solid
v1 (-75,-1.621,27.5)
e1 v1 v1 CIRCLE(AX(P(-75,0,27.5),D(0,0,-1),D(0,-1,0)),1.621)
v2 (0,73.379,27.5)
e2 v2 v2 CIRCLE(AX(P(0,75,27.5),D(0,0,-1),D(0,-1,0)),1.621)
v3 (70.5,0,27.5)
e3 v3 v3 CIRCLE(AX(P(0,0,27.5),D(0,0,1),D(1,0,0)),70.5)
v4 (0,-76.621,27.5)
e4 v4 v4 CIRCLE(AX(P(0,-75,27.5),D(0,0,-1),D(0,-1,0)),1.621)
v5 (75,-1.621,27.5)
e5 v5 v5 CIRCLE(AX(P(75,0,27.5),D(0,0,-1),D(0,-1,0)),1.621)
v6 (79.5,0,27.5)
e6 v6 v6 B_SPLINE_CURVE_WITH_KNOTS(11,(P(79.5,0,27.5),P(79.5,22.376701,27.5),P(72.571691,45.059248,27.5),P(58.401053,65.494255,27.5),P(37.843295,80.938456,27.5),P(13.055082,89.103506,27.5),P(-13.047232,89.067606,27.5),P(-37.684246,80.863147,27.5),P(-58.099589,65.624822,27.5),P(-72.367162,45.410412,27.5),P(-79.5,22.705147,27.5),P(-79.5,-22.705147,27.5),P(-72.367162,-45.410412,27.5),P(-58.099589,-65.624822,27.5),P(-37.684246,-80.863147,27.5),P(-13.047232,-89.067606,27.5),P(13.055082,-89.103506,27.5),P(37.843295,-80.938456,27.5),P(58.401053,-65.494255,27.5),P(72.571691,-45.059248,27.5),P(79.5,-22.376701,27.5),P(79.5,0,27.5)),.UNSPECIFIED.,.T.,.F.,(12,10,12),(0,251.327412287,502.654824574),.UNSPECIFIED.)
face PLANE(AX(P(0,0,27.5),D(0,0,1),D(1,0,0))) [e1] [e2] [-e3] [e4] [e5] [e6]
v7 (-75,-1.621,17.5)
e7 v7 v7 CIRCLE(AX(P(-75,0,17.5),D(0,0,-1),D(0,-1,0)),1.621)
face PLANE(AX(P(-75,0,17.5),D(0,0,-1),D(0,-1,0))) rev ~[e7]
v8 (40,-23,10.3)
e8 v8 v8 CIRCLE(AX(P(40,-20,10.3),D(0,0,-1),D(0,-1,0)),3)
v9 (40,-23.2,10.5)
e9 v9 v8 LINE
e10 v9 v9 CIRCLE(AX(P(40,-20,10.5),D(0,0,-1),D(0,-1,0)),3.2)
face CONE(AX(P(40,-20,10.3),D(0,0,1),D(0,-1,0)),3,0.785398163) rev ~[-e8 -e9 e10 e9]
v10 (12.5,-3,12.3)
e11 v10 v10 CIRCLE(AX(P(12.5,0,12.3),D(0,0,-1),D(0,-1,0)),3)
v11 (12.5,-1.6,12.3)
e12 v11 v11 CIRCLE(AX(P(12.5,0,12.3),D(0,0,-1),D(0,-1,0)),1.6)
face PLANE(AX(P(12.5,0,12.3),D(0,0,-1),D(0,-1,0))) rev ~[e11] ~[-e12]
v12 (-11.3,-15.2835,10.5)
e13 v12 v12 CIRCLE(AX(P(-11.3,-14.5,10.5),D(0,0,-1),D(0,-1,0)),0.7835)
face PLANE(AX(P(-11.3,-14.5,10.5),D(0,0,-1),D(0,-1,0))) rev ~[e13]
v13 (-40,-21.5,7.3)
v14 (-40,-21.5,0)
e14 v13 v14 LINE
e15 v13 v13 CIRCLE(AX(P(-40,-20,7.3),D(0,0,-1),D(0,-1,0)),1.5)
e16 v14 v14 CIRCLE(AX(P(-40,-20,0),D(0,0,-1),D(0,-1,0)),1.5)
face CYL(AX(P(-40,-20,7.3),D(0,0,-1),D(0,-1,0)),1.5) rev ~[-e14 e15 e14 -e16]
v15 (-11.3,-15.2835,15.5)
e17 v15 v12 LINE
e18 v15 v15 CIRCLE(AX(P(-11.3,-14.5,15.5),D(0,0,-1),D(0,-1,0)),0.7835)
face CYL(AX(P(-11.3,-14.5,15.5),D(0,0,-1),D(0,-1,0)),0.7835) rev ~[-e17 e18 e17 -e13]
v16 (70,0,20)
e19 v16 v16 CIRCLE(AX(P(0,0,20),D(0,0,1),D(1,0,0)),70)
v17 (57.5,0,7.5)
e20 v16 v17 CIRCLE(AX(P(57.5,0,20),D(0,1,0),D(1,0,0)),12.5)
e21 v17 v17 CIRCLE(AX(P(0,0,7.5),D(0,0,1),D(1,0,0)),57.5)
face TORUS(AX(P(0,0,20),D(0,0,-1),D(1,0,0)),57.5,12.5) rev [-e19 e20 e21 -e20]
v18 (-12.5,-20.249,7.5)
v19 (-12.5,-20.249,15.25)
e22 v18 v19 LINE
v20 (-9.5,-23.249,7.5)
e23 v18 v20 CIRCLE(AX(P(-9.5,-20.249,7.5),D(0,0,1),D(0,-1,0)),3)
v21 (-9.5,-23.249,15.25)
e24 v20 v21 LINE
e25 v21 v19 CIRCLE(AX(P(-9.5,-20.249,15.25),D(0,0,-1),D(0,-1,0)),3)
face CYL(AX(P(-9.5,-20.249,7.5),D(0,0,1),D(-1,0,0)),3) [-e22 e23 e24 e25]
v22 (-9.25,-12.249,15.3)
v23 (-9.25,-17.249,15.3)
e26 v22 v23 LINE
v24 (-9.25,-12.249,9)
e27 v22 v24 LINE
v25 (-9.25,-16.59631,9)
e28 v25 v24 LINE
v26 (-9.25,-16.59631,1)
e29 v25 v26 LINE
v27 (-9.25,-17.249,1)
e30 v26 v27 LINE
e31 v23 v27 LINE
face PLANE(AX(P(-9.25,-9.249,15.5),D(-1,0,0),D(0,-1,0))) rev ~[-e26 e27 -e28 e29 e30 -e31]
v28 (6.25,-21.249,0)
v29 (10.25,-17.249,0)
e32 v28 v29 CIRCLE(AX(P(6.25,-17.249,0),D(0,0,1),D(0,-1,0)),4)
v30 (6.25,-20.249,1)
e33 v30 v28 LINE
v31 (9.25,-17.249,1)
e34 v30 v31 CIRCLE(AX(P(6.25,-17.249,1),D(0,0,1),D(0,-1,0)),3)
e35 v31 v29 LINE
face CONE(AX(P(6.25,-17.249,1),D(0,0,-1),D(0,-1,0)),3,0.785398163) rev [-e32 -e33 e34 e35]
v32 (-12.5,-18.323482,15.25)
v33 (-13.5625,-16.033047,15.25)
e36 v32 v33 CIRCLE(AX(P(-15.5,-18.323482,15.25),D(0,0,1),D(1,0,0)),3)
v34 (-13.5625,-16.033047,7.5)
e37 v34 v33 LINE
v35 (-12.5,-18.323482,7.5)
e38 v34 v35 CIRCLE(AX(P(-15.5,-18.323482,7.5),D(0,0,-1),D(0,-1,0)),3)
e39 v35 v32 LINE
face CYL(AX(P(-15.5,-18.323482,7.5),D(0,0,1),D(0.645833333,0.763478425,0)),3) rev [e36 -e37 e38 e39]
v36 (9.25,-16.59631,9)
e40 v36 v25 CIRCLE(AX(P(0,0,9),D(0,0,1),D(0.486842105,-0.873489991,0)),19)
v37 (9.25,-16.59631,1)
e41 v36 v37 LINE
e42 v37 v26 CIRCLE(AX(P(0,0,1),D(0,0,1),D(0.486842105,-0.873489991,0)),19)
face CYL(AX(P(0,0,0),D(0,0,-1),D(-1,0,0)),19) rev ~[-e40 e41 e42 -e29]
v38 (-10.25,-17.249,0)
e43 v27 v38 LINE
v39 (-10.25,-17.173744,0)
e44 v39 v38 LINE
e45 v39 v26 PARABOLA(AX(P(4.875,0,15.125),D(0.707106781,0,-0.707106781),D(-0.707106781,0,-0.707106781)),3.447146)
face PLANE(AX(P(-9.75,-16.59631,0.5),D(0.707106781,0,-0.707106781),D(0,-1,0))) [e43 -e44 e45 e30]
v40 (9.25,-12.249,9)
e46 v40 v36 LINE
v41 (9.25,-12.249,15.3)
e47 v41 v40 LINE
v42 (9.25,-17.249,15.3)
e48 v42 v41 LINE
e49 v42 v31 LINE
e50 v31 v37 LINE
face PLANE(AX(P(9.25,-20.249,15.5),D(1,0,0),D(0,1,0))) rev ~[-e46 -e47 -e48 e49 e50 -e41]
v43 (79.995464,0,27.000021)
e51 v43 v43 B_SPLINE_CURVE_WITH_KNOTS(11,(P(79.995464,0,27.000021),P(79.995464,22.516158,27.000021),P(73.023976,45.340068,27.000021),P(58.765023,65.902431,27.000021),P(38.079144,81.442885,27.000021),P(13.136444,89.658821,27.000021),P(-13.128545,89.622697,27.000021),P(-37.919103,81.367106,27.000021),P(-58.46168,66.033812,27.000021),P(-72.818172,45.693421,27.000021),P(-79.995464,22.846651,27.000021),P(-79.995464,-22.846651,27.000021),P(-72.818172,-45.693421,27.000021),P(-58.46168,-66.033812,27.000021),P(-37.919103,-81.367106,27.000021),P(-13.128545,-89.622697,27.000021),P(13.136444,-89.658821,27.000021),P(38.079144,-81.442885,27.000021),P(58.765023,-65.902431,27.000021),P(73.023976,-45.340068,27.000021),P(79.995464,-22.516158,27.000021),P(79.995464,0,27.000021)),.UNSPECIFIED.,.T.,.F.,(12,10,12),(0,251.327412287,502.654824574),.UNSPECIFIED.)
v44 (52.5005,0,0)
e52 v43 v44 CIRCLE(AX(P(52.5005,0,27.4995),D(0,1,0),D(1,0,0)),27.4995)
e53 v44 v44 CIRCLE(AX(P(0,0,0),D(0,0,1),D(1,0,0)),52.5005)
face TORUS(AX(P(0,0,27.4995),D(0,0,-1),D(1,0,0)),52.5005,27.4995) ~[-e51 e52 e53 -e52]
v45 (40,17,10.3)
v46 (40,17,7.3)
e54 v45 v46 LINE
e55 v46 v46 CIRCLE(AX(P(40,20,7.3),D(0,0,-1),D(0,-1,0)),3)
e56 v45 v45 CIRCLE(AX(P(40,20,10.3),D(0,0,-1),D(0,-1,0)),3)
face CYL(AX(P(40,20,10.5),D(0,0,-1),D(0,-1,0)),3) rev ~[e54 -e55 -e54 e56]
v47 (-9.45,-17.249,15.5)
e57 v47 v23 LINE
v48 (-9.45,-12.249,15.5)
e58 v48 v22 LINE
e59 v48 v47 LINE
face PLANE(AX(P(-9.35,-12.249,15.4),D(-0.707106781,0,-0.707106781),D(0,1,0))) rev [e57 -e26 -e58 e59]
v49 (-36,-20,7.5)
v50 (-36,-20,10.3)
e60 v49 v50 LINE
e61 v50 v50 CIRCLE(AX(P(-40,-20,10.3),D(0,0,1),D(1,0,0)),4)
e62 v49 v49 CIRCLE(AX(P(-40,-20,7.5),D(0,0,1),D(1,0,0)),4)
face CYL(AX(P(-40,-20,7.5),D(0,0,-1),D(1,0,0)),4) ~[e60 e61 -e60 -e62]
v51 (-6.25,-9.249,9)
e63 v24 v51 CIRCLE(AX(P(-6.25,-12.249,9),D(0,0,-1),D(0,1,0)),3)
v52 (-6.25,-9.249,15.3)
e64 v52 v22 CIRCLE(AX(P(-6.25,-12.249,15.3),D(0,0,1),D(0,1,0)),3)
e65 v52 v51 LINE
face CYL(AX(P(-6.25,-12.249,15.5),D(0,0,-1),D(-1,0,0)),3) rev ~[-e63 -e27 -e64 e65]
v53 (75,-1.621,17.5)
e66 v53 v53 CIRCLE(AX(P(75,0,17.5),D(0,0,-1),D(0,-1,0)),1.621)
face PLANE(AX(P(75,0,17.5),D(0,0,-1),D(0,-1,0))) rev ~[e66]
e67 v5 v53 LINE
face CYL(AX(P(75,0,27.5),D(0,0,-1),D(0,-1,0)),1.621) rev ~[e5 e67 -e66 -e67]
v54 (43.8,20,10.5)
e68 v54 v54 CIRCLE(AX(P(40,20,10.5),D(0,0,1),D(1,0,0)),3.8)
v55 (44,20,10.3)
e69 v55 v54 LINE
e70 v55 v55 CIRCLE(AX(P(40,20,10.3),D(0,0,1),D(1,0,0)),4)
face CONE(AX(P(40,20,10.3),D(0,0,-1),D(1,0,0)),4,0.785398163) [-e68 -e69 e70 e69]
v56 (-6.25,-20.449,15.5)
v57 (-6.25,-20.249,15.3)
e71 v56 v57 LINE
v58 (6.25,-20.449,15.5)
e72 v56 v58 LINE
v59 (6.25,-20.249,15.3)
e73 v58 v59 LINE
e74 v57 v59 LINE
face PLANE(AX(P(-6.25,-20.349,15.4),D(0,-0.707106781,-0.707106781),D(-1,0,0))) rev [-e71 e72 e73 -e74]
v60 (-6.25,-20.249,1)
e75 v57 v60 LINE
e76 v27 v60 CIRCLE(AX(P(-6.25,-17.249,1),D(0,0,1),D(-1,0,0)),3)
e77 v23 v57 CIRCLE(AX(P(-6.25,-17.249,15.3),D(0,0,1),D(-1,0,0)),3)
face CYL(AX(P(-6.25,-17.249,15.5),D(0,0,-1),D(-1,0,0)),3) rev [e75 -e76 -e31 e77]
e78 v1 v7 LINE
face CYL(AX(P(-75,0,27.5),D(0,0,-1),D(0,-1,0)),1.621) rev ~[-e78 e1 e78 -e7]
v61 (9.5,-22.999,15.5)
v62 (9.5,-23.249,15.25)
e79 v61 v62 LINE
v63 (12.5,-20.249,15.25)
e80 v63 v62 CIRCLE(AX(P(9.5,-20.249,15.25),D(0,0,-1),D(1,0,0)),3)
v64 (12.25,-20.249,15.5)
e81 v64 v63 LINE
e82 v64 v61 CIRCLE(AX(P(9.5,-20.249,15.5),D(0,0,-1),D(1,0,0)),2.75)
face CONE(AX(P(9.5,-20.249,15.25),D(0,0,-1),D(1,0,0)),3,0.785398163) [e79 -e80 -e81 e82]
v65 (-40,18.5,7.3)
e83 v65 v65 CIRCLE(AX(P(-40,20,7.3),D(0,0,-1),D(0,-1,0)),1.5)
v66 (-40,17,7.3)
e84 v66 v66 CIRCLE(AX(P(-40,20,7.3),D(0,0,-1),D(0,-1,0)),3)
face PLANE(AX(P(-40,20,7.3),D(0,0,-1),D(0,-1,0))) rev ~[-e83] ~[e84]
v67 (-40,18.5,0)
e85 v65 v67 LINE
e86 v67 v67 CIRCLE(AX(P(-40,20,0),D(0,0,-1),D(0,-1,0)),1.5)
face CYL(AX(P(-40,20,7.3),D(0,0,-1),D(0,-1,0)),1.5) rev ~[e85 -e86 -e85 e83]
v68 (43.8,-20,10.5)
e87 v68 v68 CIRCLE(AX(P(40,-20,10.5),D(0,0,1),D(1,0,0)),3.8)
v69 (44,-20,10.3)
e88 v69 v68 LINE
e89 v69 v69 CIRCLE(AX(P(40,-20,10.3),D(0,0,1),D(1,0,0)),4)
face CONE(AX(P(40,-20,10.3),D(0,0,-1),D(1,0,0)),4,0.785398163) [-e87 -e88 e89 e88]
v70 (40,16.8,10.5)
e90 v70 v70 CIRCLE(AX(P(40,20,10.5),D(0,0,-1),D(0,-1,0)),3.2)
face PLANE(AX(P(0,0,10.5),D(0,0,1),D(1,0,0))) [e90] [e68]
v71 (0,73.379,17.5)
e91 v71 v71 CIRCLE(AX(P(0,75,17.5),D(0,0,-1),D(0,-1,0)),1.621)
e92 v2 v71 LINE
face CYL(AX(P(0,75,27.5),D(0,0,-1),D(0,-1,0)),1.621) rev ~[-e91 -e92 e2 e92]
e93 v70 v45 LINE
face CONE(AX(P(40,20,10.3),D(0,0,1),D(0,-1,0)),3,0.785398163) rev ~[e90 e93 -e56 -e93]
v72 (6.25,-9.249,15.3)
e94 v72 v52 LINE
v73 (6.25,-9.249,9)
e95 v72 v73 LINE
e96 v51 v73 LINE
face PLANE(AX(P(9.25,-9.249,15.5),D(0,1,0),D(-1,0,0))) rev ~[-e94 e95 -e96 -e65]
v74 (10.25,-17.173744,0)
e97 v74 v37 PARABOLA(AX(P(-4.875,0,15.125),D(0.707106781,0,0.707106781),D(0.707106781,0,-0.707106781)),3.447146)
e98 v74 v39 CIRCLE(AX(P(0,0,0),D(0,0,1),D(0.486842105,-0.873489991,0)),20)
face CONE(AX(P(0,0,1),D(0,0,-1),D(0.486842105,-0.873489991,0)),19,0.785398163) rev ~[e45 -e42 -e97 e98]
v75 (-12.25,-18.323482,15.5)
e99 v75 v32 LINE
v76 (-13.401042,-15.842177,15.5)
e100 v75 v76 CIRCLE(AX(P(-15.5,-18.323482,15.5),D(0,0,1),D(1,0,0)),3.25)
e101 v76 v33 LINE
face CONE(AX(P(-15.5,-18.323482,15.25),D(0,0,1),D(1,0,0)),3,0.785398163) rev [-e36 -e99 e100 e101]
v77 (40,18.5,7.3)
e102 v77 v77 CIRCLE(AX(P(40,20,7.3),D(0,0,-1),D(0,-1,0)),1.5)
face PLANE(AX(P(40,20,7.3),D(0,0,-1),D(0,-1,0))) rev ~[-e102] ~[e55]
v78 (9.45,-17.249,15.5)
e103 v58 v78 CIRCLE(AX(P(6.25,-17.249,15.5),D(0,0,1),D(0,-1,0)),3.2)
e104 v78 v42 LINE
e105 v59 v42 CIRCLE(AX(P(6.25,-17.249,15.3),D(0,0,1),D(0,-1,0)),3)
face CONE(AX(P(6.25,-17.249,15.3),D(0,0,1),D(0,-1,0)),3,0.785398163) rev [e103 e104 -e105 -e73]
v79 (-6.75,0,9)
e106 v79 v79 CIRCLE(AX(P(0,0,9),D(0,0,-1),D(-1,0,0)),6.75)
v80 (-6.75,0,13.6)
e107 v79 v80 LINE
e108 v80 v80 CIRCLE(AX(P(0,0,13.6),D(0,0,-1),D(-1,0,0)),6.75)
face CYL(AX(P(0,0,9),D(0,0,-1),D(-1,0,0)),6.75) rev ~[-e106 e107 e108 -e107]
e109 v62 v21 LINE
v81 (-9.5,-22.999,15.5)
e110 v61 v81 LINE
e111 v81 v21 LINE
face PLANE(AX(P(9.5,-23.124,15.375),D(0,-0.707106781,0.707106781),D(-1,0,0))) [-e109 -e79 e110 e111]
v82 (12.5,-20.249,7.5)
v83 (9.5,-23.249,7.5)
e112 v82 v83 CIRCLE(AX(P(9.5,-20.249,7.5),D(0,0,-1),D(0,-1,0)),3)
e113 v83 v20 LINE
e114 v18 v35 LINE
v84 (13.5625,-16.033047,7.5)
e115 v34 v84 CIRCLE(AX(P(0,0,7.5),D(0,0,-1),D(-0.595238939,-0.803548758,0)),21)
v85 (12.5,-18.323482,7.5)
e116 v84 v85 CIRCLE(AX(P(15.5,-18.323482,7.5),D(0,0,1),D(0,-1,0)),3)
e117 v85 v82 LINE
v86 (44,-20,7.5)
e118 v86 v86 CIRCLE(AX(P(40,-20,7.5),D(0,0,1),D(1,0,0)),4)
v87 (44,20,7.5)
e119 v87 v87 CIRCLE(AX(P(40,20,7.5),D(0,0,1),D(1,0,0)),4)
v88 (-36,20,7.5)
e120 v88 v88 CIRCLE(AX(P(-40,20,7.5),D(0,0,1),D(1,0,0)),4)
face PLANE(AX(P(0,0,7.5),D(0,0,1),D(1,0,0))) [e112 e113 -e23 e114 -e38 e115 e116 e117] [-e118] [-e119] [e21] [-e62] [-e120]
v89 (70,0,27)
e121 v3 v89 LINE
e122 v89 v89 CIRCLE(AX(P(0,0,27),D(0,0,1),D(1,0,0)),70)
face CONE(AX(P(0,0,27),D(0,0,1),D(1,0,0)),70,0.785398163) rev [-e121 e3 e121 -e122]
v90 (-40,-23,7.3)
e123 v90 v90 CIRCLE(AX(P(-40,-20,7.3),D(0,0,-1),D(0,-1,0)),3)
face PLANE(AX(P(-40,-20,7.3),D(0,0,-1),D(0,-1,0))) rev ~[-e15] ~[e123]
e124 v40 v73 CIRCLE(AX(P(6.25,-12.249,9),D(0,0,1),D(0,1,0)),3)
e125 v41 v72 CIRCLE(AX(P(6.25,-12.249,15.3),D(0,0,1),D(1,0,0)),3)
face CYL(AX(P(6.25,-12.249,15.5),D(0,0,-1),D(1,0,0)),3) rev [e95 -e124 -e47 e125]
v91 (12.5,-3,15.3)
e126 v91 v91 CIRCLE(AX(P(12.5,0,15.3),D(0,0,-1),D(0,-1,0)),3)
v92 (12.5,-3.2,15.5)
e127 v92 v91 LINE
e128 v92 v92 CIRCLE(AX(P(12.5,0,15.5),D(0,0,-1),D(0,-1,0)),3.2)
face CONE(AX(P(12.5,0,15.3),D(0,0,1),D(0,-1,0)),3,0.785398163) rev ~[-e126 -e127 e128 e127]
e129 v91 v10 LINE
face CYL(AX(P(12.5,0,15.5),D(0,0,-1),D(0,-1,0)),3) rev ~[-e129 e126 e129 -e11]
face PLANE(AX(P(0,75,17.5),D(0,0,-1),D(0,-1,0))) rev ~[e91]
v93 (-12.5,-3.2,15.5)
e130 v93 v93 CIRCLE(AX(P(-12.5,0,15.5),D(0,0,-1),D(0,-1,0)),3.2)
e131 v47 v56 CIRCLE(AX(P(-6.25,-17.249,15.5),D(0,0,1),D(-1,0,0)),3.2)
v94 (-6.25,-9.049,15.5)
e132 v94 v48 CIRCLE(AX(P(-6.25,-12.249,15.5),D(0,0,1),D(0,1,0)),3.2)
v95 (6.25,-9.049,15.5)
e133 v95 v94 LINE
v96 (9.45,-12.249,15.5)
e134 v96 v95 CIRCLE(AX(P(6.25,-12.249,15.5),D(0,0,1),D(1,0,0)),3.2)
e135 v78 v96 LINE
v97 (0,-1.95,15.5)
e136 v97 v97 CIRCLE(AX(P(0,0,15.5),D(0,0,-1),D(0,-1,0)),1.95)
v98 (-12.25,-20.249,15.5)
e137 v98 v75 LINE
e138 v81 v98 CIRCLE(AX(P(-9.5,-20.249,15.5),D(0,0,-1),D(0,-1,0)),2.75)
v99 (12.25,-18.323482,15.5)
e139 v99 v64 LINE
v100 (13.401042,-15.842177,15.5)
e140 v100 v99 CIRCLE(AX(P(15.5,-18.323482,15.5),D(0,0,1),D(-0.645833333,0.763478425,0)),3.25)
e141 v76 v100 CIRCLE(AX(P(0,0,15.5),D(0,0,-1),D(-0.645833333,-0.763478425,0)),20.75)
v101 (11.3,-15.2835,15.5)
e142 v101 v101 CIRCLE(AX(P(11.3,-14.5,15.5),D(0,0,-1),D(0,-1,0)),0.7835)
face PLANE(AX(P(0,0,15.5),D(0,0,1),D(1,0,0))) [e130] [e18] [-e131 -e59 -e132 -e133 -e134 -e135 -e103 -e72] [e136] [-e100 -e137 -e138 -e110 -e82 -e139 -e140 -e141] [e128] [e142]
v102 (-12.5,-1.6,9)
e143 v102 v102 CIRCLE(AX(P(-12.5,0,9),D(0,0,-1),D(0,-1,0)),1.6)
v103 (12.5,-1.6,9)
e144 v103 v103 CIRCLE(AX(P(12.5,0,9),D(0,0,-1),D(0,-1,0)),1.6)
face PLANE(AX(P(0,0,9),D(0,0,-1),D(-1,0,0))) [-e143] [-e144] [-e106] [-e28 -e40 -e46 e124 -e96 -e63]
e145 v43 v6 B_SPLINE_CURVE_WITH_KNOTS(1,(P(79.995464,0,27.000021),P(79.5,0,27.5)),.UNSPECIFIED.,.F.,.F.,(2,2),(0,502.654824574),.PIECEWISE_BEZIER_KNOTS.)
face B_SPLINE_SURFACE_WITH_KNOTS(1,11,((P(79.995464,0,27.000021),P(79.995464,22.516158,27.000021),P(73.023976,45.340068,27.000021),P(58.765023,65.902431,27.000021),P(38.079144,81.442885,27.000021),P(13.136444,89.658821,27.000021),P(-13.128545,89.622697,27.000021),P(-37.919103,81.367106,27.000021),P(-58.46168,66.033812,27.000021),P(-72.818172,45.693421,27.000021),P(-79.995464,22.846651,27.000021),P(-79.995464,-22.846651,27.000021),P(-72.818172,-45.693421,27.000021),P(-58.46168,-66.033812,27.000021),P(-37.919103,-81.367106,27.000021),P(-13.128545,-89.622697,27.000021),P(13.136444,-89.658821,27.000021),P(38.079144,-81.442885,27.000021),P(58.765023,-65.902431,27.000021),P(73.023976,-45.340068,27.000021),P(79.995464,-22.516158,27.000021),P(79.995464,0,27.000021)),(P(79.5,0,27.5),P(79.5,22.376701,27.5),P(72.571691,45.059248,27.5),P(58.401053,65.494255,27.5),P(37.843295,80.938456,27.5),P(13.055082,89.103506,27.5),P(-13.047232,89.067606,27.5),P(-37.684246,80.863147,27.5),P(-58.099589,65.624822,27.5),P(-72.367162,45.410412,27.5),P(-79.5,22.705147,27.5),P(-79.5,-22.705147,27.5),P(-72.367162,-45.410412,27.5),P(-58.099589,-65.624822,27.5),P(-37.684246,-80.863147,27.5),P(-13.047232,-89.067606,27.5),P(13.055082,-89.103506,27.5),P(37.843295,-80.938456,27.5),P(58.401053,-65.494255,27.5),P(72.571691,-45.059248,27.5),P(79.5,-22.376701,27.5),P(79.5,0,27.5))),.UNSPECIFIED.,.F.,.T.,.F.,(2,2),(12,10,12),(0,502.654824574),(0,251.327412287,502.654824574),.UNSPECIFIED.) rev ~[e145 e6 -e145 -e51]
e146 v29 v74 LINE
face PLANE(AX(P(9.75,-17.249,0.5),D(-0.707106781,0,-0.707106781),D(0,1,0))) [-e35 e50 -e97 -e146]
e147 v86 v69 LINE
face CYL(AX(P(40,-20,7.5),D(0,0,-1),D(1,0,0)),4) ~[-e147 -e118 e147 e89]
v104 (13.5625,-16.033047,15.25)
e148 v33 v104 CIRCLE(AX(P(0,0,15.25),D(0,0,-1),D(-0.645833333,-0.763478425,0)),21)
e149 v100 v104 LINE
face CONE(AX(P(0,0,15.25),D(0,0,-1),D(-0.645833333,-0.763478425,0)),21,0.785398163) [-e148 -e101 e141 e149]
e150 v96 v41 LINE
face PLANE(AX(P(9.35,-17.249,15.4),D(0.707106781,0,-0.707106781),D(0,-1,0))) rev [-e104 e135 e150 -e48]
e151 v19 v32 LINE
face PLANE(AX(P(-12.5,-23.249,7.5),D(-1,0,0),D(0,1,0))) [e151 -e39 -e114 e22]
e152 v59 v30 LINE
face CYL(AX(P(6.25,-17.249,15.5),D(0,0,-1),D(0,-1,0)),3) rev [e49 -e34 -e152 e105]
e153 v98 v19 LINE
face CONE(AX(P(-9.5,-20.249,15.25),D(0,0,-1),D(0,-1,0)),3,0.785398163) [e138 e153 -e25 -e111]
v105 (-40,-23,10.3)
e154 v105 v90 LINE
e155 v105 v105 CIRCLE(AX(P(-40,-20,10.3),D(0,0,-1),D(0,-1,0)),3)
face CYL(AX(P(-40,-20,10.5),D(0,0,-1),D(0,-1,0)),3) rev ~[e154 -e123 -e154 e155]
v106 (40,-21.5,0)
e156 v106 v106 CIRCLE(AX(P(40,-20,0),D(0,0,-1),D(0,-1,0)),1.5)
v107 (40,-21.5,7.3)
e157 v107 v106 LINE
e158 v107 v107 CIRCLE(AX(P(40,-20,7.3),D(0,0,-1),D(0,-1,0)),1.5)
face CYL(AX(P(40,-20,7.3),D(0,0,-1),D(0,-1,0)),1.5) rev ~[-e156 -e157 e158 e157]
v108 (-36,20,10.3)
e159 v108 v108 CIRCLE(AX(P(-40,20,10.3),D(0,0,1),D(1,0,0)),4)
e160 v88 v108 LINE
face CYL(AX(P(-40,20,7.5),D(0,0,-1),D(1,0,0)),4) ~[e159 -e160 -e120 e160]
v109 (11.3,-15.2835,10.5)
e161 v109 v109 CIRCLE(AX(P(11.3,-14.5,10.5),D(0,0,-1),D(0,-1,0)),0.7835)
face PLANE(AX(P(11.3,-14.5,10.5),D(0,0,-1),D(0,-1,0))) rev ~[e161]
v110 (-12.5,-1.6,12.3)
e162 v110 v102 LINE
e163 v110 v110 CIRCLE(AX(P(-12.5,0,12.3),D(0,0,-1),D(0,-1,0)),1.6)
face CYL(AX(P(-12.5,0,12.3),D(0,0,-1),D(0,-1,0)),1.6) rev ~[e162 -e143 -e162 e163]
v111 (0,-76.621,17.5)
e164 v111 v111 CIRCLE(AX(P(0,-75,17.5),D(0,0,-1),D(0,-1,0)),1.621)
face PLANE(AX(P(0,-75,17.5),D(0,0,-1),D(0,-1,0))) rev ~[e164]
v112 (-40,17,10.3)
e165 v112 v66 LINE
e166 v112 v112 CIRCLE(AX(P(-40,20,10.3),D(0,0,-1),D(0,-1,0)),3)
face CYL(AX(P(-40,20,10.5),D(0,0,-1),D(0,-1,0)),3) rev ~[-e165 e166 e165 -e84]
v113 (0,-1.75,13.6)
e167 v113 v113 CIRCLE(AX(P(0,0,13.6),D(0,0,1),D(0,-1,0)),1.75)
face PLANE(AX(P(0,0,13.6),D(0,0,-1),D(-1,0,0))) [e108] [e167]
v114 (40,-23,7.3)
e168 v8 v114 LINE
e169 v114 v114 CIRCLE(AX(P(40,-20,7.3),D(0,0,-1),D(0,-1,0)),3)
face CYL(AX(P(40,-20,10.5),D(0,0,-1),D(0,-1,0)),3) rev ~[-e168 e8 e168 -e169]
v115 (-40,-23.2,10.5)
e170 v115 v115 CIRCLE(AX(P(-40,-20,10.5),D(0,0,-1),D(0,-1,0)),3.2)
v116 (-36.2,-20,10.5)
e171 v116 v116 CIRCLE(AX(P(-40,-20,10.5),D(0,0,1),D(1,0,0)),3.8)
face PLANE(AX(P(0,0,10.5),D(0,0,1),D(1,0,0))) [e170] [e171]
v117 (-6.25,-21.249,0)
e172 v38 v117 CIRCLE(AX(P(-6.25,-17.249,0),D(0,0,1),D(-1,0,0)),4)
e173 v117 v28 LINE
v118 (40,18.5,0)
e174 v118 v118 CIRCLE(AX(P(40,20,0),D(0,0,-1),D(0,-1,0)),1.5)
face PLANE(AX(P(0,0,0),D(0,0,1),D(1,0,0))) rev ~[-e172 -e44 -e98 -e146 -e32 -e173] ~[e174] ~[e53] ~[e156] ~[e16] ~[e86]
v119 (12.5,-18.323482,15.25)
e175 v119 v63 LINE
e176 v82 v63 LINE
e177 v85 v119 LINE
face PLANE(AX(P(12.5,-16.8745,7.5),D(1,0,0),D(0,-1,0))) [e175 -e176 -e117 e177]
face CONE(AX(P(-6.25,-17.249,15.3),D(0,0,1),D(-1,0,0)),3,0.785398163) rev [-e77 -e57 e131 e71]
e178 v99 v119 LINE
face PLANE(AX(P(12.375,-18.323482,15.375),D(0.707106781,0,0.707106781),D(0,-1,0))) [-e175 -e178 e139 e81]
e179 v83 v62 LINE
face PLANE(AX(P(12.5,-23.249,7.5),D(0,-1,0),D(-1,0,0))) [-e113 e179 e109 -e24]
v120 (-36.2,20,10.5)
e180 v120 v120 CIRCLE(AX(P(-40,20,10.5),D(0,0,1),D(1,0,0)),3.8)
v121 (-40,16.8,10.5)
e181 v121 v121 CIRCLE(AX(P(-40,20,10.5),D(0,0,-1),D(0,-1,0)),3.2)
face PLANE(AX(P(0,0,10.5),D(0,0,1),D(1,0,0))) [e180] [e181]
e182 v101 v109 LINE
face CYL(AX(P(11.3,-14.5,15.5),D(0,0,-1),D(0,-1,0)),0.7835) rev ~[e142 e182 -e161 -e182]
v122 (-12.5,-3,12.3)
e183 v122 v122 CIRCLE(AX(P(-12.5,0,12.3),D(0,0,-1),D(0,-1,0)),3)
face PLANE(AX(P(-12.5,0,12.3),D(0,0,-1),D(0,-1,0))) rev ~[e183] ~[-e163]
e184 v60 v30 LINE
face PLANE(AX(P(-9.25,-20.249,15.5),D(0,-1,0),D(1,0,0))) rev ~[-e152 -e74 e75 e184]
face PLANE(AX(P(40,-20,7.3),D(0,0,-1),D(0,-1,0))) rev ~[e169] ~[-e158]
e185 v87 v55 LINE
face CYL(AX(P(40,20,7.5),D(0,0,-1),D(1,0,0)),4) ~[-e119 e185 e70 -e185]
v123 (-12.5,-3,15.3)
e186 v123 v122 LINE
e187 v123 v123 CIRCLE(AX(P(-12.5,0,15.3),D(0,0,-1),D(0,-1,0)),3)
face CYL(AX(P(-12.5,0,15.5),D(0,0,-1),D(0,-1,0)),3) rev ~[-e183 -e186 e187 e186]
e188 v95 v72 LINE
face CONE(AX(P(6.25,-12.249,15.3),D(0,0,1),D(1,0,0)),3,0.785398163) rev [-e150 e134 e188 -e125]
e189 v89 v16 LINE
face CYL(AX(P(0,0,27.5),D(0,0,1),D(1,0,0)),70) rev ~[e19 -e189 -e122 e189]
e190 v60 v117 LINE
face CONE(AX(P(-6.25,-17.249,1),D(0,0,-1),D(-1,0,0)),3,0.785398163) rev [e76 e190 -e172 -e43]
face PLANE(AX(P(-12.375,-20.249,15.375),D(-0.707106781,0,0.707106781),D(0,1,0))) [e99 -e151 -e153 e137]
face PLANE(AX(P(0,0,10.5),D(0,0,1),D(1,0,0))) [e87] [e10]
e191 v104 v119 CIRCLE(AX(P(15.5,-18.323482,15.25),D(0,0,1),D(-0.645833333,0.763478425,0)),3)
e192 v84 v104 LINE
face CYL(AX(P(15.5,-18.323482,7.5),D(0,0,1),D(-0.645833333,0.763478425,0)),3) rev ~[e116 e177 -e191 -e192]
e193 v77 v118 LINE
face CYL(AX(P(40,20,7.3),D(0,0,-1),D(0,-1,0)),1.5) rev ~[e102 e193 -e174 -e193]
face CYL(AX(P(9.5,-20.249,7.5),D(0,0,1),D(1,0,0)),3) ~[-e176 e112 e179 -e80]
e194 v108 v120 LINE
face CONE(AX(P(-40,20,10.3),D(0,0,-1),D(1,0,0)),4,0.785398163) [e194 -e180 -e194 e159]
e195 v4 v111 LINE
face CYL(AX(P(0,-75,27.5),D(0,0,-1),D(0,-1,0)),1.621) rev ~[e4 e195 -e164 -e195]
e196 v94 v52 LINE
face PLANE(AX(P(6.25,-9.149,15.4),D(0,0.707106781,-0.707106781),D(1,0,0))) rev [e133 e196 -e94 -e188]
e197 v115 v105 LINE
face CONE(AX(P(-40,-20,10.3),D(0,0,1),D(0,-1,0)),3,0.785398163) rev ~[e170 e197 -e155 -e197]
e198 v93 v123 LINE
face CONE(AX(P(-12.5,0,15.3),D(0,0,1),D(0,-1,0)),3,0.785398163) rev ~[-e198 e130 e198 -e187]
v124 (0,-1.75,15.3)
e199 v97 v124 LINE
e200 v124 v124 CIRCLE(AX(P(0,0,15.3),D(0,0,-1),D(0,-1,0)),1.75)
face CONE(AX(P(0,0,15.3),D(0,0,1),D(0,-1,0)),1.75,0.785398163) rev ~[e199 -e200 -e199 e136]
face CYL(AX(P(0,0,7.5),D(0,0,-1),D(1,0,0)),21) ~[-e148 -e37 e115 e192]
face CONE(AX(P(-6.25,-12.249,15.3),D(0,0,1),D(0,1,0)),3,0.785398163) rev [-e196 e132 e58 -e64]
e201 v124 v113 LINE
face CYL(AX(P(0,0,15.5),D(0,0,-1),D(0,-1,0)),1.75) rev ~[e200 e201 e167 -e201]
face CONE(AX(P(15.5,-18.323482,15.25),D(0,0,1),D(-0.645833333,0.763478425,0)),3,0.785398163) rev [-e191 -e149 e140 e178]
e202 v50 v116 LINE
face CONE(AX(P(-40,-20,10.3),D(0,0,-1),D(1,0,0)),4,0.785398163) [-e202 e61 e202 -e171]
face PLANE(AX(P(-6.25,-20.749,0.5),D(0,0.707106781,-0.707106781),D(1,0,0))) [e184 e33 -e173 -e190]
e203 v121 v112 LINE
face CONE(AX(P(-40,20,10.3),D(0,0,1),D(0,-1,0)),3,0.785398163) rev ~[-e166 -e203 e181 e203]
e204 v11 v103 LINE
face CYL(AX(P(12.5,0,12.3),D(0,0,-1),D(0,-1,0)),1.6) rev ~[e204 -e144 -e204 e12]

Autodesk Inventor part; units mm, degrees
ref_plane "YZ Plane" through (0, 0, 0) normal (1, 0, 0) x (0, 1, 0)
ref_plane "XZ Plane" through (0, 0, 0) normal (0, 1, 0) x (-1, 0, 0)
ref_plane "XY Plane" through (0, 0, 0) normal (0, 0, 1) x (1, 0, 0)
sketch "Sketch1" plane through (0, 0, 0) normal (0, 0, 1) x (1, 0, 0)
  circle A0 centre (0, 0) radius 80
  dimension "d0" = 160
extrude "Extrusion1" add sketch "Sketch1" along normal blind 27.5
sketch "Sketch2" plane through (0, 0, 27.5) normal (0, 0, 1) x (1, 0, 0)
  circle A0 centre (0, 0) radius 70
  dimension "d3" = 140
extrude "Extrusion2" cut sketch "Sketch2" against normal blind 20
fillet "Fillet3" radius 12.5 1 edges at (-70, 0, 7.5)
fillet "Fillet4" radius 27.5 1 edges at (-80, 0, 0)
sketch "Sketch4" plane through (0, 0, 7.5) normal (0, 0, 1) x (1, 0, 0)
  circle A0 centre (0, 0) radius 21
  dimension "d13" = 42
extrude "Extrusion4" add sketch "Sketch4" along normal blind 8
sketch "Sketch6" plane through (0, 0, 27.5) normal (0, 0, 1) x (1, 0, 0)
  point P0 (0, 0)
  point P1 (0, 75)
  point P2 (75, 0)
  point P3 (0, -75)
  point P4 (-75, 0)
  dimension "d24" = 75
  dimension "d25" = 75
  dimension "d26" = 75
hole "Hole2" at (0, 75, 27.5) at (75, 0, 27.5) at (0, -75, 27.5) at (-75, 0, 27.5) direction (0, 0, -1) diameter 3.242 depth 10 thread size "M4x0.7" class "6H" standard "ISO Metric profile"
sketch "Sketch8" plane through (0, 0, 15.5) normal (0, 0, 1) x (1, 0, 0)
  point P0 (0, 0)
  point P1 (0, 0)
hole "Hole4" at (0, 0, 15.5) direction (0, 0, -1) diameter 3.5 end through all
sketch "Sketch9" plane through (0, 0, 0) normal (0, 0, -1) x (-1, 0, 0)
  circle A0 centre (0, 0) radius 1.75 projected
  circle A1 centre (0, 0) radius 19
  dimension "d56" = 38
extrude "Extrusion5" cut sketch "Sketch9" against normal blind 9
sketch "Sketch10" plane through (0, 0, 9) normal (0, 0, -1) x (-1, 0, 0)
  circle A0 centre (0, 0) radius 1.75 projected
  circle A1 centre (0, 0) radius 6.75
  dimension "d59" = 13.5
extrude "Extrusion6" cut sketch "Sketch10" against normal blind 4.6
sketch "Sketch11" plane through (0, 0, 15.5) normal (0, 0, 1) x (1, 0, 0)
  point P0 (0, 0)
  point P1 (12.5, 0)
  point P2 (-12.5, 0)
  dimension "d74" = 12.5
  dimension "d75" = 12.5
hole "Hole5" at (12.5, 0, 15.5) at (-12.5, 0, 15.5) direction (0, 0, -1) diameter 3.2 end through all counterbore diameter 6 counterbore depth 3.2
sketch "Sketch13" plane through (0, 0, 7.5) normal (0, 0, 1) x (1, 0, 0)
  circle A0 centre (0, 0) radius 21 projected
  line L0 (12.5, -16.8745) -> (12.5, -23.249)
  line L1 (12.5, -23.249) -> (-12.5, -23.249)
  line L2 (-12.5, -23.249) -> (-12.5, -16.8745)
  dimension "d88" = 25
  dimension "d89" = 12.5
extrude "Extrusion7" add sketch "Sketch13" along normal blind 8 contours A0 L0 L1 L2
sketch "Sketch18" plane through (0, 0, 15.5) normal (0, 0, 1) x (1, 0, 0)
  point P0 (0, 0)
  point P1 (11.3, -14.5)
  point P2 (-11.3, -14.5)
  dimension "d119" = 14.5
  dimension "d120" = 11.3
  dimension "d121" = 11.3
  dimension "d122" = 14.5
hole "Hole8" at (11.3, -14.5, 15.5) at (-11.3, -14.5, 15.5) direction (0, 0, -1) diameter 1.567 depth 5 thread size "M2x0.4" class "6H" standard "ISO Metric profile"
sketch "Sketch20" plane through (0, 0, 15.5) normal (0, 0, 1) x (1, 0, 0)
  line L0 (9.25, -9.249) -> (-9.25, -9.249)
  line L1 (-9.25, -9.249) -> (-9.25, -20.249)
  line L2 (-9.25, -20.249) -> (9.25, -20.249)
  line L3 (9.25, -20.249) -> (9.25, -9.249)
  line L4 (-12.5, -23.249) -> (12.5, -23.249) projected
  circle A0 centre (11.3, -14.5) radius 0.7835 projected
  point P0 (0, 0)
  dimension "d141" = 14
  dimension "d142" = 3
  dimension "d171" = 9.25
  dimension "d172" = 9.25
extrude "Extrusion12" cut sketch "Sketch20" against normal blind 17 contours L3 L2 L1 L0
fillet "Fillet10" radius 3 4 edges at (9.25, -9.249, 12.25) (9.25, -20.249, 7.75) (-9.25, -9.249, 12.25) (-9.25, -20.249, 7.75)
fillet "Fillet11" radius 3 4 edges at (12.5, -16.8745, 11.5) (12.5, -23.249, 11.5) (-12.5, -23.249, 11.5) (-12.5, -16.8745, 11.5)
chamfer "Chamfer2" distance 0.25 angle 45 4 edges at (0, 21, 15.5) (-12.5, -19.2862, 15.5) (0, -23.249, 15.5) (12.5, -19.2862, 15.5)
sketch "Sketch21" plane through (0, 0, 7.5) normal (0, 0, 1) x (1, 0, 0)
  circle A0 centre (0, 0) radius 1.75 projected
  circle A1 centre (-40, -20) radius 4
  circle A2 centre (-40, 20) radius 4
  circle A3 centre (40, -20) radius 4
  circle A4 centre (40, 20) radius 4
  dimension "d147" = 40
  dimension "d148" = 20
  dimension "d149" = 20
  dimension "d150" = 20
  dimension "d151" = 20
  dimension "d152" = 40
  dimension "d153" = 40
  dimension "d154" = 40
  dimension "d155" = 8
  dimension "d156" = 8
  dimension "d157" = 8
  dimension "d158" = 8
extrude "Extrusion13" add sketch "Sketch21" along normal blind 3 contours A1 | A2 | A3 | A4
sketch "Sketch22" plane through (-40, 20, 10.5) normal (0, 0, 1) x (1, 0, 0)
  circle A0 centre (0, -40) radius 4 projected
  circle A1 centre (80, 0) radius 4 projected
  circle A2 centre (80, -40) radius 4 projected
  point P0 (40, -20)
  point P1 (0, 0)
hole "Hole9" at (-40, -20, 10.5) at (-40, 20, 10.5) at (40, 20, 10.5) at (40, -20, 10.5) direction (0, 0, -1) diameter 3 end through all counterbore diameter 6 counterbore depth 3.2
chamfer "Chamfer3" distance 0.2 angle 45 19 edges at (36, -20, 10.5) (-44, -20, 10.5) (-44, 20, 10.5) (36, 20, 10.5) (-40, -17, 10.5) (40, -17, 10.5) (-40, 23, 10.5) (40, 23, 10.5) (8.3713, -10.1276, 15.5) (0, -9.249, 15.5) (-8.3713, -10.1276, 15.5) (-9.25, -14.749, 15.5) (-8.3713, -19.3703, 15.5) (0, -20.249, 15.5) (8.3713, -19.3703, 15.5) (9.25, -14.749, 15.5) (0, 1.75, 15.5) (-12.5, 3, 15.5) (12.5, 3, 15.5)
chamfer "Chamfer5" distance 1 angle 45 6 edges at (0, 19, 0) (0, -20.249, 0) (8.3713, -19.3703, 0) (9.25, -16.9226, 0) (-8.3713, -19.3703, 0) (-9.25, -16.9226, 0)
chamfer "Chamfer6" distance 0.5 angle 45 3 edges at (-70, 0, 27.5) (-80, 0, 27.4995) (-80, 0, 27.5)
properties part number "bottom cover" material "Aluminum 6061"
